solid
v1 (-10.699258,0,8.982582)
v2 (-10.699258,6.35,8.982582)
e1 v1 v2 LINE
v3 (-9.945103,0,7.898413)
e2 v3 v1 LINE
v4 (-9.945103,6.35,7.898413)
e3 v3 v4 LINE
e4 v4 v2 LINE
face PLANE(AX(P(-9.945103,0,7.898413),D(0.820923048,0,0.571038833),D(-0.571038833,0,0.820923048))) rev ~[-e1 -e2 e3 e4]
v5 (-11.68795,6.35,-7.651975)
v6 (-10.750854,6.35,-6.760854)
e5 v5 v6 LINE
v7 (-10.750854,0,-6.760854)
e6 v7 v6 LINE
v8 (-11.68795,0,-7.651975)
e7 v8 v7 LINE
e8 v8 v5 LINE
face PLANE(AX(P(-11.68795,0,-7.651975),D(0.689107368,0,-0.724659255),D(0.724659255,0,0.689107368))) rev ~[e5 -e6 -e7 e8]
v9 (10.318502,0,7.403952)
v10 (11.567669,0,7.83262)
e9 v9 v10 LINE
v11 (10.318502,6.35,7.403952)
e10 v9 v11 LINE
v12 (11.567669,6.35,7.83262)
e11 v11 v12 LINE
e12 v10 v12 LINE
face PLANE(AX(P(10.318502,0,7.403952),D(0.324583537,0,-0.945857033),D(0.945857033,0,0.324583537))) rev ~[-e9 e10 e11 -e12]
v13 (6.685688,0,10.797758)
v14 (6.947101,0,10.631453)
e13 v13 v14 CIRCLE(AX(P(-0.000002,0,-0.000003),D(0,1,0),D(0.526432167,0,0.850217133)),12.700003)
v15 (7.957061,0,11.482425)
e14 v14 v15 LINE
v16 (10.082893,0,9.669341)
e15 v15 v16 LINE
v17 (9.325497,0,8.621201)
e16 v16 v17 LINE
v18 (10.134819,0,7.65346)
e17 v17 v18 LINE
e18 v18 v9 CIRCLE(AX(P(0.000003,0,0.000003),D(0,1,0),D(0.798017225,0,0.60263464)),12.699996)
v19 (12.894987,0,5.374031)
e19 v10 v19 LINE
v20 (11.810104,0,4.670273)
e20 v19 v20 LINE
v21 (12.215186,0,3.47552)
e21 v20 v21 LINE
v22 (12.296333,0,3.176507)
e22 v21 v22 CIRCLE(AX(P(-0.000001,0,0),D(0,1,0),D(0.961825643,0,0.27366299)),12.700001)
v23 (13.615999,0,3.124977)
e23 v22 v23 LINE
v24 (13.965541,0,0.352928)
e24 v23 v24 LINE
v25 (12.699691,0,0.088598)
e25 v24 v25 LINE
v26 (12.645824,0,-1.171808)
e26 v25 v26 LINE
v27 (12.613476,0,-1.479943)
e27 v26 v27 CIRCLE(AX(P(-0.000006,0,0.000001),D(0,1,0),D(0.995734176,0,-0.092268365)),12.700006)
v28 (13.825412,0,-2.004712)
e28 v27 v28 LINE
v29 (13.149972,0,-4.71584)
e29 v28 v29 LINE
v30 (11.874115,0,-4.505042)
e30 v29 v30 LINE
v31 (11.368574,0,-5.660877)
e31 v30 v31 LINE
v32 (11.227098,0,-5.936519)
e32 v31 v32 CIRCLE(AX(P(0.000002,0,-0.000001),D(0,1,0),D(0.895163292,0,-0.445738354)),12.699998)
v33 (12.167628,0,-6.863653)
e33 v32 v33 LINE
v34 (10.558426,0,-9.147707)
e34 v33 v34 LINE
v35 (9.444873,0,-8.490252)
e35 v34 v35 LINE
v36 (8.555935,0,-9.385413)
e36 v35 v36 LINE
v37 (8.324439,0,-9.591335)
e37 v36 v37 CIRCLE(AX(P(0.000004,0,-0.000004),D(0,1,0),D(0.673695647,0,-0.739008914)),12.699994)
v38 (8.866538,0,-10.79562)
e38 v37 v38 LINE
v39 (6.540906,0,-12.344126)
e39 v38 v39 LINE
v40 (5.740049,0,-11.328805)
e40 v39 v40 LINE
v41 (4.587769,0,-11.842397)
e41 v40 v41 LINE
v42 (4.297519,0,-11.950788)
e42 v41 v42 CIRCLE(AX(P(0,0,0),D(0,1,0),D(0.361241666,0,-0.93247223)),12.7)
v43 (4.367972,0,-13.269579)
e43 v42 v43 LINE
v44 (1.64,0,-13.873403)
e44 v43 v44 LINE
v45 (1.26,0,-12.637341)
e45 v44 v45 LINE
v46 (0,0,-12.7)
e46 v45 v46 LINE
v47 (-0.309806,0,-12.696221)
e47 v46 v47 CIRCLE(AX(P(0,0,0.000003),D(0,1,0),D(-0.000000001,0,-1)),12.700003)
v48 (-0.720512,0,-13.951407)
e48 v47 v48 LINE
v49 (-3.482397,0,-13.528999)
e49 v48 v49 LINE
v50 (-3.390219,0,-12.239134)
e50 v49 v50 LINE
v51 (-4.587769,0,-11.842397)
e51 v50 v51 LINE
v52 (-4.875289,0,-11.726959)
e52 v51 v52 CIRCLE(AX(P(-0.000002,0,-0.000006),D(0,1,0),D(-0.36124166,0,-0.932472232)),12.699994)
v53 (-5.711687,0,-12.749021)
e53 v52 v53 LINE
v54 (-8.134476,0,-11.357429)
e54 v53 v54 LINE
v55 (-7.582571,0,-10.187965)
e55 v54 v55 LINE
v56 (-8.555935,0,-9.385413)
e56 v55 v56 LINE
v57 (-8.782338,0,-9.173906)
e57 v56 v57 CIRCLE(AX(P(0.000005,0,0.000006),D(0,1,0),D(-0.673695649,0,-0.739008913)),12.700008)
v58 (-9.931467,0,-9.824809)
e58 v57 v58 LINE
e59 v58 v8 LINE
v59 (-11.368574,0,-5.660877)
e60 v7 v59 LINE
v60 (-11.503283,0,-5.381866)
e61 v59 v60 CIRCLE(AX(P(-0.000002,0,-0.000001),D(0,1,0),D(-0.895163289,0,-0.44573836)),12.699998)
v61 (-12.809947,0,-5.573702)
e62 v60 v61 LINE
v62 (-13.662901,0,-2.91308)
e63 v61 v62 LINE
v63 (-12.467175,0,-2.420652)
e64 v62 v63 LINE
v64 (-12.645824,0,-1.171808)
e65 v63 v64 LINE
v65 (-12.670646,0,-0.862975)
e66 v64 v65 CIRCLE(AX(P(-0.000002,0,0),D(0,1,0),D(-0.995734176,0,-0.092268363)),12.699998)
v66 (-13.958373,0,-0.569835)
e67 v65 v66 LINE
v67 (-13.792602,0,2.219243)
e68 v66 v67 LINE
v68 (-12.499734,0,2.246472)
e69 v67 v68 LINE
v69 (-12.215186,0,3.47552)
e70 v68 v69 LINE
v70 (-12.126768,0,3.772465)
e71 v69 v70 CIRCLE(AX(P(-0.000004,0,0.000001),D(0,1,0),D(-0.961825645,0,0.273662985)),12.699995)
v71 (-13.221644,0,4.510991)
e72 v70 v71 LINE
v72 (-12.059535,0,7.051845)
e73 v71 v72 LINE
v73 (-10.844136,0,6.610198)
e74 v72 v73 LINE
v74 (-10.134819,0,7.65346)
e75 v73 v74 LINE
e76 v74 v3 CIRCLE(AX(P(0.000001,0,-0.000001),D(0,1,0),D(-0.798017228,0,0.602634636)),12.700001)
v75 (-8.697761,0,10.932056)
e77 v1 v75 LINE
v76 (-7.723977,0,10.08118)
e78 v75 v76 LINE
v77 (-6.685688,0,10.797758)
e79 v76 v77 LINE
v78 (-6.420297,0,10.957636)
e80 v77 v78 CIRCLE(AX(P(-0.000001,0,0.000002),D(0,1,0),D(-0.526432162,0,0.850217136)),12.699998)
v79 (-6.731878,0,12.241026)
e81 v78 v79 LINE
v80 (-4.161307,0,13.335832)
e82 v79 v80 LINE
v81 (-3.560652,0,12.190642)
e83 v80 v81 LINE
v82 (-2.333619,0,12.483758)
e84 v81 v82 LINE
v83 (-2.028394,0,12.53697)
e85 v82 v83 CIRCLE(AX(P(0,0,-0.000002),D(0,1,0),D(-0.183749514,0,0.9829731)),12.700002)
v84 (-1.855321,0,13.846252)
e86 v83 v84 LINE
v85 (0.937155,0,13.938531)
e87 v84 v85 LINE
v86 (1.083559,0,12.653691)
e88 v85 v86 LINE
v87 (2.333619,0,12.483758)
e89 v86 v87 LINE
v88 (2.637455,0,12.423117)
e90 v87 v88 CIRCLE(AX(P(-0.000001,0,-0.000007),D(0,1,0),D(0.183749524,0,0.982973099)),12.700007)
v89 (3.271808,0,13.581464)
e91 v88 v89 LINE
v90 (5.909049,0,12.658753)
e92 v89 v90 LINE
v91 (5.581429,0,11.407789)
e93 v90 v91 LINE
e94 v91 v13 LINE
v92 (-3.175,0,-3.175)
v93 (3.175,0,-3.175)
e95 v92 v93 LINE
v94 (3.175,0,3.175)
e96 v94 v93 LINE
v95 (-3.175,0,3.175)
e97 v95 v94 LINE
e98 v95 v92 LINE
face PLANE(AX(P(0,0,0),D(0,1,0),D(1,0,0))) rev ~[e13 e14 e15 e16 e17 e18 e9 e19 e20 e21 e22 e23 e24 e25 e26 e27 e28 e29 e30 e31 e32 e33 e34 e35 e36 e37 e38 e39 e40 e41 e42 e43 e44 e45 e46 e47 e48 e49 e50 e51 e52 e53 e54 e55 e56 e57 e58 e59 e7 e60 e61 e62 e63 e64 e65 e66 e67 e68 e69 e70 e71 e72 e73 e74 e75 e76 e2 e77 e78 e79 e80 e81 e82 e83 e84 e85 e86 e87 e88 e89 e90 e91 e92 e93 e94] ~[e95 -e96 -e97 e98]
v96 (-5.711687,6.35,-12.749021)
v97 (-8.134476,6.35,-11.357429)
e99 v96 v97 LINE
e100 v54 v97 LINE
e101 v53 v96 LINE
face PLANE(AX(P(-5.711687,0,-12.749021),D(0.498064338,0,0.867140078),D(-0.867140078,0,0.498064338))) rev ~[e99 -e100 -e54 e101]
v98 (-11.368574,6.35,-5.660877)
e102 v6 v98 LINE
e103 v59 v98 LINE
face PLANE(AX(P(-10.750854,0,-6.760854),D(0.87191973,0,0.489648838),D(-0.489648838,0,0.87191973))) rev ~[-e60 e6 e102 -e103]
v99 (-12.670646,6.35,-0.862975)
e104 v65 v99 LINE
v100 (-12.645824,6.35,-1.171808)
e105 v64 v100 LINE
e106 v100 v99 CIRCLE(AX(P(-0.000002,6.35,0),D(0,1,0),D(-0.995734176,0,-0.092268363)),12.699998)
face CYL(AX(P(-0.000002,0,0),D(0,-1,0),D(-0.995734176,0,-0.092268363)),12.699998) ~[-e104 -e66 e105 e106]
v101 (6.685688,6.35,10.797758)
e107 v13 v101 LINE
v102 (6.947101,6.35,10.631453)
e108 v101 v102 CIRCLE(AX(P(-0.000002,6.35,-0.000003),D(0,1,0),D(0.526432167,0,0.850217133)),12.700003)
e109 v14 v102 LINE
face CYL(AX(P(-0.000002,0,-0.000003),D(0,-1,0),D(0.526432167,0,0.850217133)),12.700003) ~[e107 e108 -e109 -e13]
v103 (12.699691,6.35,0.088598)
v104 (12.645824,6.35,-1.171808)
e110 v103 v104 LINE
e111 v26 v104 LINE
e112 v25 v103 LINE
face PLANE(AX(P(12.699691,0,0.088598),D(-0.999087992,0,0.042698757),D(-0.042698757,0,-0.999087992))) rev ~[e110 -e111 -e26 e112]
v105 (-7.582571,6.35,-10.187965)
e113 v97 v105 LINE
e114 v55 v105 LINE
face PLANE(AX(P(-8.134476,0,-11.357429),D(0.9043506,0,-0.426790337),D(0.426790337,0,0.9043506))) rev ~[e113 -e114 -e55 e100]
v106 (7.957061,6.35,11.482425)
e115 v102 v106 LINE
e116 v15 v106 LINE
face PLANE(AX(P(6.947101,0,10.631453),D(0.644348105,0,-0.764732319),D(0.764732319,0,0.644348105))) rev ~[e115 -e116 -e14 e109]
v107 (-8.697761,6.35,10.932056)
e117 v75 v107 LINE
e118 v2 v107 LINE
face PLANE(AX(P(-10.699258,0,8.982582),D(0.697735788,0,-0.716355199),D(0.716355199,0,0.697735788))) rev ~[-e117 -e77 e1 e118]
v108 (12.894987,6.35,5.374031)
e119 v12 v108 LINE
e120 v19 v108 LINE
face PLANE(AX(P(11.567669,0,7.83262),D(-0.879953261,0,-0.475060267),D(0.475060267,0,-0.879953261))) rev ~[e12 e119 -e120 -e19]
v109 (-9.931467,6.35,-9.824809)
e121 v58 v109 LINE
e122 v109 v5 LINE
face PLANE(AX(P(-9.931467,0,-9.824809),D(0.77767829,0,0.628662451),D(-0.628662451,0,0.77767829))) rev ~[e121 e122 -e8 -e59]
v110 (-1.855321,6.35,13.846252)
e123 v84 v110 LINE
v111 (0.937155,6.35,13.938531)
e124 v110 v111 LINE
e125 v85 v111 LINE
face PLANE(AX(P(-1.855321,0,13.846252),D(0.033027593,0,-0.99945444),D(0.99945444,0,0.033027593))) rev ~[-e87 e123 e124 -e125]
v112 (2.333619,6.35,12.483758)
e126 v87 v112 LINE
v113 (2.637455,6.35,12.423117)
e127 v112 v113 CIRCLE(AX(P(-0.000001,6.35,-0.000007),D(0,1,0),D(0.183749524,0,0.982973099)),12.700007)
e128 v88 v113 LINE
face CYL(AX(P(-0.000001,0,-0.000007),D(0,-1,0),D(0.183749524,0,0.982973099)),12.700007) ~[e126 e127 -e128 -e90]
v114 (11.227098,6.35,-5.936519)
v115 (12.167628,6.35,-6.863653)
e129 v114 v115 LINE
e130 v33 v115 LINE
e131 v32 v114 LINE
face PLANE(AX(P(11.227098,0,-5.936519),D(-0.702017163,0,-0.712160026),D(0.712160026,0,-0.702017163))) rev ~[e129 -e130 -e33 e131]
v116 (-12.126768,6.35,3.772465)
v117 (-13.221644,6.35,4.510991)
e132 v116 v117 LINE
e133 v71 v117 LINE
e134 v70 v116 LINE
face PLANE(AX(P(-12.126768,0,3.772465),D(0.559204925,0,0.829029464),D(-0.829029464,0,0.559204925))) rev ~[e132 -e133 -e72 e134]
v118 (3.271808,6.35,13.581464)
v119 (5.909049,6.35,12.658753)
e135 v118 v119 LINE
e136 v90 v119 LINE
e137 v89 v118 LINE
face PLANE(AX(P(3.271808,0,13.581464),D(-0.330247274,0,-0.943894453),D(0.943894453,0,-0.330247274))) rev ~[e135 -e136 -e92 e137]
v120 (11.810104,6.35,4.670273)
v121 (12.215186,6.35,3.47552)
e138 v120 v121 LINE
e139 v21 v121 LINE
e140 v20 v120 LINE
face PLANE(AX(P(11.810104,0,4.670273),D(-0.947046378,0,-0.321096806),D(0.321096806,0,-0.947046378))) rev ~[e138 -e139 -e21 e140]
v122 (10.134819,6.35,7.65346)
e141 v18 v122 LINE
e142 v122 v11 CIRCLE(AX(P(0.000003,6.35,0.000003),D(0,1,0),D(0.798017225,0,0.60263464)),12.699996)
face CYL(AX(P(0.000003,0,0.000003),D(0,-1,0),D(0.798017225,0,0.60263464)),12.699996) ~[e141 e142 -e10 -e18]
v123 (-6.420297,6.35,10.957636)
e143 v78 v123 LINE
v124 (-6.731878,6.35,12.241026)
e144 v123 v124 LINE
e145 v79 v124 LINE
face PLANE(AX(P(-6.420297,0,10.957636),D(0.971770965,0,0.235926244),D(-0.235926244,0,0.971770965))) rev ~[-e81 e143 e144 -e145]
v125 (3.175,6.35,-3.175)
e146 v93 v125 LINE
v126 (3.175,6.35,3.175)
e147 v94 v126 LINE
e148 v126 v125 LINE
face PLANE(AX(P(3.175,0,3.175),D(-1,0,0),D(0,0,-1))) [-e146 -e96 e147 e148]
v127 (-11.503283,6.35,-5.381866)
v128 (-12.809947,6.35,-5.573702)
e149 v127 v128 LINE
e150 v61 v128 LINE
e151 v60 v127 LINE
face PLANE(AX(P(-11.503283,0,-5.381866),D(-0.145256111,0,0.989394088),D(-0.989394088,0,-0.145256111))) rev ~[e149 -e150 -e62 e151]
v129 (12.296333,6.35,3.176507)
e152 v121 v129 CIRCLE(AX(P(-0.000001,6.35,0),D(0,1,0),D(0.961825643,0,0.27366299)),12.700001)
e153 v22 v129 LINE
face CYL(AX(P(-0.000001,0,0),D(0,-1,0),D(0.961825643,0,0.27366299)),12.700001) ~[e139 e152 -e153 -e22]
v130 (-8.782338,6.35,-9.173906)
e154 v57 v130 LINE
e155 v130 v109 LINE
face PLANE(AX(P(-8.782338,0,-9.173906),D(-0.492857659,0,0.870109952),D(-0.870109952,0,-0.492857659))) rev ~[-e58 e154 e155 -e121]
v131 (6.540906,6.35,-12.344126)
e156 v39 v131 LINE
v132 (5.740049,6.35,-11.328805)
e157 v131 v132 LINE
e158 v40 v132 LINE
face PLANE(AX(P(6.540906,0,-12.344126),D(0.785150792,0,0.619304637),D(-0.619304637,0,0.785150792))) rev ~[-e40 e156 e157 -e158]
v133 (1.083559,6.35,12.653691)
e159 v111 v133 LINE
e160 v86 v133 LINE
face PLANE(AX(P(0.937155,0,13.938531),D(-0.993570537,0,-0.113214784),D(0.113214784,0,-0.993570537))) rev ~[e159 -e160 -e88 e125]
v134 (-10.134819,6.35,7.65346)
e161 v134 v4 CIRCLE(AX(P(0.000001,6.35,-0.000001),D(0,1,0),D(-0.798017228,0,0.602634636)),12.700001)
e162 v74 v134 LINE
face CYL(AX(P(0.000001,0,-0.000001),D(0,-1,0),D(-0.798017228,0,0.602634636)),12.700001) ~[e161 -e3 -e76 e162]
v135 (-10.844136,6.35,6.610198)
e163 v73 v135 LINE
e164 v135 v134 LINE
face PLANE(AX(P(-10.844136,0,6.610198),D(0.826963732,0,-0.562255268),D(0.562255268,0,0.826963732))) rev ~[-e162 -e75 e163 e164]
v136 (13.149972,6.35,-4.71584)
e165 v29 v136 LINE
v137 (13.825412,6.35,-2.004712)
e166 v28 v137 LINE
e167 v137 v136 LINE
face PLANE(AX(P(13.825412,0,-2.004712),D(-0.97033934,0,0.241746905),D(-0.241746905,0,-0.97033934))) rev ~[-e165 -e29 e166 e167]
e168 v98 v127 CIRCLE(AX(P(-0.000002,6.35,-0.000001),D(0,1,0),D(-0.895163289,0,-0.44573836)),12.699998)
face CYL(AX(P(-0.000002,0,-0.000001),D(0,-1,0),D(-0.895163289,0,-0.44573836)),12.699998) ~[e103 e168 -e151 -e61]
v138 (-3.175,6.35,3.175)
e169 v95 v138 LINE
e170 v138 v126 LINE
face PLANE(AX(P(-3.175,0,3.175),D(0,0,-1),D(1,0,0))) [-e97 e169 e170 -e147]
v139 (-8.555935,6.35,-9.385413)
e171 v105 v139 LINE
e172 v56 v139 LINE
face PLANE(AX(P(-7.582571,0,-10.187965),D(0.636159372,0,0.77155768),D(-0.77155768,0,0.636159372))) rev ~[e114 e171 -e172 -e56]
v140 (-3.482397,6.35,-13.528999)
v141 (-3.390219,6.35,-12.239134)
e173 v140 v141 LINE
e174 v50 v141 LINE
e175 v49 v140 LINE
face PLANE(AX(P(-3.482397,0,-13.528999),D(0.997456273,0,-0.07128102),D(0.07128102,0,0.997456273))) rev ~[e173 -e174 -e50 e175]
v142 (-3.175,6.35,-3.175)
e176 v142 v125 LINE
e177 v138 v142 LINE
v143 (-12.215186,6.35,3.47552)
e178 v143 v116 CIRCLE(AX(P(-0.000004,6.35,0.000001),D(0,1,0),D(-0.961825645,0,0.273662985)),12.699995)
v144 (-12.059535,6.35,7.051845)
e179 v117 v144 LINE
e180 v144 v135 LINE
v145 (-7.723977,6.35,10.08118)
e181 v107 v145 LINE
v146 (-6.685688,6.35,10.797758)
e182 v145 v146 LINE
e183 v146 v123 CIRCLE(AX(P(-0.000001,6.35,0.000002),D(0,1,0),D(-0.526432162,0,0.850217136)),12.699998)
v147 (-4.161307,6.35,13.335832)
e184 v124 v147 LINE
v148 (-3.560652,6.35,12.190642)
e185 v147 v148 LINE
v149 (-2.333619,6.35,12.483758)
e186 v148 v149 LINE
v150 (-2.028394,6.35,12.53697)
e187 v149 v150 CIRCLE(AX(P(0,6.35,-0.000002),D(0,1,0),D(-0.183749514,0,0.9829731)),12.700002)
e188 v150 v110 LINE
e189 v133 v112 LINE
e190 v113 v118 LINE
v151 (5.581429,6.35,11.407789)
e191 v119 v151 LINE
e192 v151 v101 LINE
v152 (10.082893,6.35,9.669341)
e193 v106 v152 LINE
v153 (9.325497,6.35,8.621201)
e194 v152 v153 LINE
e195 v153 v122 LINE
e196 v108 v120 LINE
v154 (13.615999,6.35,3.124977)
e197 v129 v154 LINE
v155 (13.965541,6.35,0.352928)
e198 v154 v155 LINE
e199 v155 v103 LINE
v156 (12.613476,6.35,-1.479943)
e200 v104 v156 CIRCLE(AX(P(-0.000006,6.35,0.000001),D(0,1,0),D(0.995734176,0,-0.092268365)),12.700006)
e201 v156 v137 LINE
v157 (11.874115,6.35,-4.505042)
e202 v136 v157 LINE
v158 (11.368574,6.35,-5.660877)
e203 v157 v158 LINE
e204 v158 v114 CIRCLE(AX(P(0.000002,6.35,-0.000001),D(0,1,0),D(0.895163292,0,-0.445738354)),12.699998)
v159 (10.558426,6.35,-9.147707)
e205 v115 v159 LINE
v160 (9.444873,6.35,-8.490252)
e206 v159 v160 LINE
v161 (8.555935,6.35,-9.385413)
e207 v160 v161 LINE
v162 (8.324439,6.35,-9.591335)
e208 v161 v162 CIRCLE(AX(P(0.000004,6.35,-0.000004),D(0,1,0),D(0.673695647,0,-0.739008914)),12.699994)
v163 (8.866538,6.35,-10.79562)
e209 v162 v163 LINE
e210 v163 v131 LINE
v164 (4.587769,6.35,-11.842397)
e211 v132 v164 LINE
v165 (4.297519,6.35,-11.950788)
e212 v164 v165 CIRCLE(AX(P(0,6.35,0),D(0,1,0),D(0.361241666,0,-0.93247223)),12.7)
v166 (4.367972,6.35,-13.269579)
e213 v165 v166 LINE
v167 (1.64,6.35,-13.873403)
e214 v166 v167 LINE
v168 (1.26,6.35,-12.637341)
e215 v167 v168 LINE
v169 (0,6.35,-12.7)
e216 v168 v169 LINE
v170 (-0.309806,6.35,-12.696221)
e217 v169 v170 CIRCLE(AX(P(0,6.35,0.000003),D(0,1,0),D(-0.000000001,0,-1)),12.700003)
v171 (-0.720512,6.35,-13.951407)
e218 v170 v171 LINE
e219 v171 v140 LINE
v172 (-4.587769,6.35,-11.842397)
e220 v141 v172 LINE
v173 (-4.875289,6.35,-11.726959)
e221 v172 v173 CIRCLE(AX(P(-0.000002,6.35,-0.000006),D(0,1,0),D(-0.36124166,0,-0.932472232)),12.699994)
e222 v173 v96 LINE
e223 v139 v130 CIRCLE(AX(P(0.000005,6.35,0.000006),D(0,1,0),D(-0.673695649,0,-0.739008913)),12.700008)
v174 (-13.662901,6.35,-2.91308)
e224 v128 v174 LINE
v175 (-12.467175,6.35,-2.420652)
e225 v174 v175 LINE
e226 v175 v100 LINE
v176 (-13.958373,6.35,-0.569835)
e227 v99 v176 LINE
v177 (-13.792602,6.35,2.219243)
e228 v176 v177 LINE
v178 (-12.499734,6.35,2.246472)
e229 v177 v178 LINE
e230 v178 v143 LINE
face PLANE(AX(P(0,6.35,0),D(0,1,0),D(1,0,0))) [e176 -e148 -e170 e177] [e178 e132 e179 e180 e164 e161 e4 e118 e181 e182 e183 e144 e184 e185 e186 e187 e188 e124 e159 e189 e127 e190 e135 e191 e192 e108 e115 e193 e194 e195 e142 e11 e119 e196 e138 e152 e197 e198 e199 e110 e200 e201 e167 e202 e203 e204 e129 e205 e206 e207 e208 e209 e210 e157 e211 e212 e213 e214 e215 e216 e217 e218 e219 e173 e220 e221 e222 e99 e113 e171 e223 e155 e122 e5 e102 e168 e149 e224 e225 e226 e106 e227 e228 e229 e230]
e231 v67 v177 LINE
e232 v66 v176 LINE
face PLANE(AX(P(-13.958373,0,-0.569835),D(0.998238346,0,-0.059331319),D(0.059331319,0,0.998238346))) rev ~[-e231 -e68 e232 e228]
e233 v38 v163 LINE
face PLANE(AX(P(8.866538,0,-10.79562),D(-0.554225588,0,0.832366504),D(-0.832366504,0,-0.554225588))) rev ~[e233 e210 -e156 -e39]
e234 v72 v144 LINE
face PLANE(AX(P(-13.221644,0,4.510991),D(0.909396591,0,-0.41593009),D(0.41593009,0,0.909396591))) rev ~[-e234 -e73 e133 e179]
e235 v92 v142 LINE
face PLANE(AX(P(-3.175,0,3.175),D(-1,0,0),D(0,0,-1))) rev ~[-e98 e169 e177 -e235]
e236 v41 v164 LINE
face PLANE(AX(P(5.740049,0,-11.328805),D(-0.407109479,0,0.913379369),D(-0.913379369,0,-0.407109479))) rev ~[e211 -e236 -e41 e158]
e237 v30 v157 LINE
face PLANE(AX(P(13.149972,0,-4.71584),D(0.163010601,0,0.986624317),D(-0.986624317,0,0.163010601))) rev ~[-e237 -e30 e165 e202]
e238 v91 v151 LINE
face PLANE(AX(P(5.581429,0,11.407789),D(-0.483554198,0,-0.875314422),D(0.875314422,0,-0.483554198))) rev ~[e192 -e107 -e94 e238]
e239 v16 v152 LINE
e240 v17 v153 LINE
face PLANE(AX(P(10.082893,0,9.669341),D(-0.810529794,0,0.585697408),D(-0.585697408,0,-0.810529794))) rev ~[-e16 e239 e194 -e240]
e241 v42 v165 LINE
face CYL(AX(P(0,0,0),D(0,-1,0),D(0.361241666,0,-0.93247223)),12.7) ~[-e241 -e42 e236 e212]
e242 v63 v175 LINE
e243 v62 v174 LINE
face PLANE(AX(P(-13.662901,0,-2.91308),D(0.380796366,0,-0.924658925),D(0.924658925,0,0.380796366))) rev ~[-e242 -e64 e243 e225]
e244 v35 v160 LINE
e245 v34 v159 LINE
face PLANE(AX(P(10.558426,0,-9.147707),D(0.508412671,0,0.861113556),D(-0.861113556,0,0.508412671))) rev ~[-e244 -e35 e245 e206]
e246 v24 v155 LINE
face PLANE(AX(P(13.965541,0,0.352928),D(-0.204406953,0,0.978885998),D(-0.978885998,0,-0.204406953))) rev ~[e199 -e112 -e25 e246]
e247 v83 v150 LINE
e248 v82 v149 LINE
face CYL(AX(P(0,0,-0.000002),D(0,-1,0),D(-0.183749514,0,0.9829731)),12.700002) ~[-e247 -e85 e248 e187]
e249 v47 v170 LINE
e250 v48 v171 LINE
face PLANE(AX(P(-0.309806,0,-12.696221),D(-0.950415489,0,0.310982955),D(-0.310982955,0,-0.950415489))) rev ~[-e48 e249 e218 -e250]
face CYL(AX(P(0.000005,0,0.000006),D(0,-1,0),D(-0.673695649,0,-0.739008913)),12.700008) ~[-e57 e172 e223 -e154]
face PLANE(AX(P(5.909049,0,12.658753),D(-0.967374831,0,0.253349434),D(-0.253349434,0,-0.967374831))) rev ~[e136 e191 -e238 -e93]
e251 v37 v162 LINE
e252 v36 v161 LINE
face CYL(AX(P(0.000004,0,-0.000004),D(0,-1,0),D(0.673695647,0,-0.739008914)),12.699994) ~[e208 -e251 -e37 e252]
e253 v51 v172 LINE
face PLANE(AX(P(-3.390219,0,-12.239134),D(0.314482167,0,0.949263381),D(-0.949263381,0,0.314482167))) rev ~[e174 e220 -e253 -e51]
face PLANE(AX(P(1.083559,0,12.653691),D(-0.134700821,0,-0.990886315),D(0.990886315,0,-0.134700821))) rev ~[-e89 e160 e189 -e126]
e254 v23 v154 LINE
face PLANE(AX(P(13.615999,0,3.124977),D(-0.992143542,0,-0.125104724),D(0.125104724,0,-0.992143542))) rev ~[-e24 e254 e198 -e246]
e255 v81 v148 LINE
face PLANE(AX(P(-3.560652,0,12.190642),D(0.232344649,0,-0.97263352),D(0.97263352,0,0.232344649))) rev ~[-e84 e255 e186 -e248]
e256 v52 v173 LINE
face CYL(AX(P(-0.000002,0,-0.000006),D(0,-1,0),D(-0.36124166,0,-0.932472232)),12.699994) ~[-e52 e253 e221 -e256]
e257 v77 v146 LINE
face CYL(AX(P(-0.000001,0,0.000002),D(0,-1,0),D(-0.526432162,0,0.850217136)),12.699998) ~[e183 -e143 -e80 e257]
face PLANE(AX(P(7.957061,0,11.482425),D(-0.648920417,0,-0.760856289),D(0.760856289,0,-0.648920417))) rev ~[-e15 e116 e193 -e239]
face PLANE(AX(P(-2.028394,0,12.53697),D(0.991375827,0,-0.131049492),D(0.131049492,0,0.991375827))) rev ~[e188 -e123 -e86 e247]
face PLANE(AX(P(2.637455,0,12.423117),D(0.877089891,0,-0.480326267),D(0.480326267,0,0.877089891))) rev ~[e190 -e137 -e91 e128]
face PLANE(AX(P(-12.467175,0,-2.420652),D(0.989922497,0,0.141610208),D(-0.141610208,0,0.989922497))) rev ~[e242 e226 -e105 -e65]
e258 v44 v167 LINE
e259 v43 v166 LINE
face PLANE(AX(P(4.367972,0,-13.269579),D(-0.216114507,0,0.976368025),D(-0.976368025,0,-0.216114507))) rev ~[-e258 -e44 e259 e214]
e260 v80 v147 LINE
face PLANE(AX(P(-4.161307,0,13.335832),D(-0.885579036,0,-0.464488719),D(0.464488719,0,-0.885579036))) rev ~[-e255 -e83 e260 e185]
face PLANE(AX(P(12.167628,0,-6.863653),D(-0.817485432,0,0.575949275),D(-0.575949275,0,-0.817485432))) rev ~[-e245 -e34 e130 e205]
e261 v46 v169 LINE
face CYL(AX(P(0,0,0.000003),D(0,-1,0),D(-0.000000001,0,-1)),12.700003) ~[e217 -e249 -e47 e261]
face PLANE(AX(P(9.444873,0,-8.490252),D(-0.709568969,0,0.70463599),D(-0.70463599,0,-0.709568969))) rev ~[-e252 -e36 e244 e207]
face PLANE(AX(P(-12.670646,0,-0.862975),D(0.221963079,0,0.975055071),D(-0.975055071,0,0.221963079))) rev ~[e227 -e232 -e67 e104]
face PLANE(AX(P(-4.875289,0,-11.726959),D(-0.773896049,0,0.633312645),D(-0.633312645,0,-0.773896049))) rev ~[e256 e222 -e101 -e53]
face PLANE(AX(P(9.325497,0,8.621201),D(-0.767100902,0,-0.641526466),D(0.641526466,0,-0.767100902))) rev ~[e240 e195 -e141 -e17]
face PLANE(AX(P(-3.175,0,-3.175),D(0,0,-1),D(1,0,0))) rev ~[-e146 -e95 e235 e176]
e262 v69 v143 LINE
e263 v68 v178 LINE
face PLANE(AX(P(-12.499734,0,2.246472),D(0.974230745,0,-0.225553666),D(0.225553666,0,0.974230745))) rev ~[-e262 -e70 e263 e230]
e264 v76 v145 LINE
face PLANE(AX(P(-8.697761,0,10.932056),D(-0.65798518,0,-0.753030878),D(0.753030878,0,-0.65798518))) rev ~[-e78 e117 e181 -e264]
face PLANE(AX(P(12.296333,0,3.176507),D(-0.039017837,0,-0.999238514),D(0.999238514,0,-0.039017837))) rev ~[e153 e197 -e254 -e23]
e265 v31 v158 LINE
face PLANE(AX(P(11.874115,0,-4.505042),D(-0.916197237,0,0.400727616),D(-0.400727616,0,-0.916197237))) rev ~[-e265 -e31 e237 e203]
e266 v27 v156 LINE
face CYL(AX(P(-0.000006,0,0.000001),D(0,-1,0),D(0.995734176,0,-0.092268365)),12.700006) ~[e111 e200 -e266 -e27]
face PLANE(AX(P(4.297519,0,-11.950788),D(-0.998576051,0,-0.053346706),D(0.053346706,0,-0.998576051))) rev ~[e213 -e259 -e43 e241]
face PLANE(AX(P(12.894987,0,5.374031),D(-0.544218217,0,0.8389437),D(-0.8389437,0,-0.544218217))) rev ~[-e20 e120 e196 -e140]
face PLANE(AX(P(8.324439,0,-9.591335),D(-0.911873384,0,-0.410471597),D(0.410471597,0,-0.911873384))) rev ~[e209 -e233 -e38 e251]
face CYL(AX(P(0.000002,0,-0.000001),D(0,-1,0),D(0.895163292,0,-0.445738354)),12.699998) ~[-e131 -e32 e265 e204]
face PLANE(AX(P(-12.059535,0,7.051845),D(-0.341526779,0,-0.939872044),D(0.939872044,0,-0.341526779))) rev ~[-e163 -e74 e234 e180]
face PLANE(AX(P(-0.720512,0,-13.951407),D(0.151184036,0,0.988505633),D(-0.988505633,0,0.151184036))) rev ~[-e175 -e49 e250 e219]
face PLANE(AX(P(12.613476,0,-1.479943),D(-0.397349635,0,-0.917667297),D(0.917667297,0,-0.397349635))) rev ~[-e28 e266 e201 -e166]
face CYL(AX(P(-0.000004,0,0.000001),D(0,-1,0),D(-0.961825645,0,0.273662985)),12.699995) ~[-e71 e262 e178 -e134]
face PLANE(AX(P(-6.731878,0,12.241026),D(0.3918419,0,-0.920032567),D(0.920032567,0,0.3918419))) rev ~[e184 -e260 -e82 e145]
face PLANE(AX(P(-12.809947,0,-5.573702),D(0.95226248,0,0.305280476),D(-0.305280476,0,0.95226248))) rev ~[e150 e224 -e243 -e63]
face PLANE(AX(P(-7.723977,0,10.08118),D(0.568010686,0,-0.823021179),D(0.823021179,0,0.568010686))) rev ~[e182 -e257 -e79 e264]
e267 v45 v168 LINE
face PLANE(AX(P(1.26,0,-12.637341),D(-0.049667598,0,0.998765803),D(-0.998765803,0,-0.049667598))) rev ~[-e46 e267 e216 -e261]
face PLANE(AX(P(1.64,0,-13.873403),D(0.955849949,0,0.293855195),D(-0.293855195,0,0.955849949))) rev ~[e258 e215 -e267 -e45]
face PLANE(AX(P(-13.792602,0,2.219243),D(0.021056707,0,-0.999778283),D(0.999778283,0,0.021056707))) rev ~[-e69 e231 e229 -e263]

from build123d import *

# Parameters (mm, degrees)
BELT_PULLEY_W       = 6.35
BELT_PULLEY_H       = 6.35
BOSS_EXTRUDE1_DEPTH = 6.35


with BuildPart() as part:
    # Belt Pulley → Boss-Extrude1 (new body)
    with BuildSketch(Plane(origin=(0, 0, 0), x_dir=(1, 0, 0), z_dir=(0, 1, 0))):
        with BuildLine():
            Line((1.26, 12.637341493), (0, 12.7))
            ThreePointArc((0, 12.7), (-0.15491433, 12.699055144), (-0.30980561, 12.696220717))
            Line((-0.30980561, 12.696220717), (-0.720511879, 13.951407192))
            Line((-0.720511879, 13.951407192), (-3.482396619, 13.528998994))
            Line((-3.482396619, 13.528998994), (-3.390219288, 12.239134495))
            Line((-3.390219288, 12.239134495), (-4.587769161, 11.842397313))
            ThreePointArc((-4.587769161, 11.842397313), (-4.73188115, 11.785554751), (-4.875289053, 11.726958542))
            Line((-4.875289053, 11.726958542), (-5.711686898, 12.749020856))
            Line((-5.711686898, 12.749020856), (-8.134476277, 11.357429097))
            Line((-8.134476277, 11.357429097), (-7.582570675, 10.187964564))
            Line((-7.582570675, 10.187964564), (-8.555934674, 9.385413249))
            ThreePointArc((-8.555934674, 9.385413249), (-8.6697812, 9.280349882), (-8.782337696, 9.173905635))
            Line((-8.782337696, 9.173905635), (-9.931466951, 9.824808608))
            Line((-9.931466951, 9.824808608), (-11.68794984, 7.651975467))
            Line((-11.68794984, 7.651975467), (-10.750853876, 6.760853565))
            Line((-10.750853876, 6.760853565), (-11.3685738, 5.660877118))
            ThreePointArc((-11.3685738, 5.660877118), (-11.436779259, 5.521782338), (-11.503282968, 5.381865938))
            Line((-11.503282968, 5.381865938), (-12.809947361, 5.573701517))
            Line((-12.809947361, 5.573701517), (-13.662901012, 2.913080148))
            Line((-13.662901012, 2.913080148), (-12.467174689, 2.42065183))
            Line((-12.467174689, 2.42065183), (-12.645824039, 1.171808165))
            ThreePointArc((-12.645824039, 1.171808165), (-12.659176905, 1.017467492), (-12.670646133, 0.862975423))
            Line((-12.670646133, 0.862975423), (-13.958373397, 0.569835151))
            Line((-13.958373397, 0.569835151), (-13.792601693, -2.219242786))
            Line((-13.792601693, -2.219242786), (-12.499734477, -2.246472349))
            Line((-12.499734477, -2.246472349), (-12.215185668, -3.475519974))
            ThreePointArc((-12.215185668, -3.475519974), (-12.171882563, -3.624261977), (-12.126768327, -3.772464704))
            Line((-12.126768327, -3.772464704), (-13.22164376, -4.510990609))
            Line((-13.22164376, -4.510990609), (-12.059535088, -7.051844685))
            Line((-12.059535088, -7.051844685), (-10.84413586, -6.610197989))
            Line((-10.84413586, -6.610197989), (-10.134818786, -7.653459882))
            ThreePointArc((-10.134818786, -7.653459882), (-10.040708034, -7.776514783), (-9.945103262, -7.898412569))
            Line((-9.945103262, -7.898412569), (-10.69925787, -8.982582092))
            Line((-10.69925787, -8.982582092), (-8.697761445, -10.932055883))
            Line((-8.697761445, -10.932055883), (-7.723976606, -10.081179762))
            Line((-7.723976606, -10.081179762), (-6.685688469, -10.797757624))
            ThreePointArc((-6.685688469, -10.797757624), (-6.553480248, -10.878506177), (-6.420296894, -10.957636049))
            Line((-6.420296894, -10.957636049), (-6.731877917, -12.241026089))
            Line((-6.731877917, -12.241026089), (-4.161306924, -13.335832358))
            Line((-4.161306924, -13.335832358), (-3.560651511, -12.190642346))
            Line((-3.560651511, -12.190642346), (-2.333618876, -12.483758366))
            ThreePointArc((-2.333618876, -12.483758366), (-2.18116864, -12.511295031), (-2.028393854, -12.536970063))
            Line((-2.028393854, -12.536970063), (-1.855320549, -13.846251683))
            Line((-1.855320549, -13.846251683), (0.937155157, -13.938530777))
            Line((0.937155157, -13.938530777), (1.0835593, -12.653691131))
            Line((1.0835593, -12.653691131), (2.333618876, -12.483758366))
            ThreePointArc((2.333618876, -12.483758366), (2.485721879, -12.454364164), (2.637455015, -12.423116801))
            Line((2.637455015, -12.423116801), (3.271808139, -13.581464262))
            Line((3.271808139, -13.581464262), (5.90904924, -12.658753378))
            Line((5.90904924, -12.658753378), (5.581429424, -11.407788812))
            Line((5.581429424, -11.407788812), (6.685688469, -10.797757624))
            ThreePointArc((6.685688469, -10.797757624), (6.816901884, -10.715402405), (6.94710097, -10.631452775))
            Line((6.94710097, -10.631452775), (7.957061009, -11.482424835))
            Line((7.957061009, -11.482424835), (10.082893481, -9.66934119))
            Line((10.082893481, -9.66934119), (9.325496576, -8.621201402))
            Line((9.325496576, -8.621201402), (10.134818786, -7.653459882))
            ThreePointArc((10.134818786, -7.653459882), (10.227421516, -7.529266175), (10.318502444, -7.403952141))
            Line((10.318502444, -7.403952141), (11.567668698, -7.832620308))
            Line((11.567668698, -7.832620308), (12.894987085, -5.374030896))
            Line((12.894987085, -5.374030896), (11.810103742, -4.67027297))
            Line((11.810103742, -4.67027297), (12.215185668, -3.475519974))
            ThreePointArc((12.215185668, -3.475519974), (12.2566712, -3.326260827), (12.296332986, -3.176506744))
            Line((12.296332986, -3.176506744), (13.615998631, -3.124977006))
            Line((13.615998631, -3.124977006), (13.965541231, -0.35292795))
            Line((13.965541231, -0.35292795), (12.699690955, -0.088598295))
            Line((12.699690955, -0.088598295), (12.645824039, 1.171808165))
            ThreePointArc((12.645824039, 1.171808165), (12.630589522, 1.325974478), (12.613475622, 1.47994349))
            Line((12.613475622, 1.47994349), (13.825412499, 2.004711756))
            Line((13.825412499, 2.004711756), (13.149971647, 4.715839871))
            Line((13.149971647, 4.715839871), (11.874114533, 4.505042071))
            Line((11.874114533, 4.505042071), (11.3685738, 5.660877118))
            ThreePointArc((11.3685738, 5.660877118), (11.298676741, 5.799129581), (11.227098481, 5.936519156))
            Line((11.227098481, 5.936519156), (12.167627801, 6.863653088))
            Line((12.167627801, 6.863653088), (10.558425526, 9.147707386))
            Line((10.558425526, 9.147707386), (9.444873147, 8.490251542))
            Line((9.444873147, 8.490251542), (8.555934674, 9.385413249))
            ThreePointArc((8.555934674, 9.385413249), (8.440815058, 9.489080101), (8.324439479, 9.591335014))
            Line((8.324439479, 9.591335014), (8.866537544, 10.795620037))
            Line((8.866537544, 10.795620037), (6.540905531, 12.344126329))
            Line((6.540905531, 12.344126329), (5.740049306, 11.328805496))
            Line((5.740049306, 11.328805496), (4.587769161, 11.842397313))
            ThreePointArc((4.587769161, 11.842397313), (4.442974528, 11.897477772), (4.297518798, 11.950787931))
            Line((4.297518798, 11.950787931), (4.367972262, 13.269578679))
            Line((4.367972262, 13.269578679), (1.64, 13.873402611))
            Line((1.64, 13.873402611), (1.26, 12.637341493))
        make_face()
        Rectangle(BELT_PULLEY_W, BELT_PULLEY_H, mode=Mode.SUBTRACT)
    extrude(amount=BOSS_EXTRUDE1_DEPTH)


solid = part.part
